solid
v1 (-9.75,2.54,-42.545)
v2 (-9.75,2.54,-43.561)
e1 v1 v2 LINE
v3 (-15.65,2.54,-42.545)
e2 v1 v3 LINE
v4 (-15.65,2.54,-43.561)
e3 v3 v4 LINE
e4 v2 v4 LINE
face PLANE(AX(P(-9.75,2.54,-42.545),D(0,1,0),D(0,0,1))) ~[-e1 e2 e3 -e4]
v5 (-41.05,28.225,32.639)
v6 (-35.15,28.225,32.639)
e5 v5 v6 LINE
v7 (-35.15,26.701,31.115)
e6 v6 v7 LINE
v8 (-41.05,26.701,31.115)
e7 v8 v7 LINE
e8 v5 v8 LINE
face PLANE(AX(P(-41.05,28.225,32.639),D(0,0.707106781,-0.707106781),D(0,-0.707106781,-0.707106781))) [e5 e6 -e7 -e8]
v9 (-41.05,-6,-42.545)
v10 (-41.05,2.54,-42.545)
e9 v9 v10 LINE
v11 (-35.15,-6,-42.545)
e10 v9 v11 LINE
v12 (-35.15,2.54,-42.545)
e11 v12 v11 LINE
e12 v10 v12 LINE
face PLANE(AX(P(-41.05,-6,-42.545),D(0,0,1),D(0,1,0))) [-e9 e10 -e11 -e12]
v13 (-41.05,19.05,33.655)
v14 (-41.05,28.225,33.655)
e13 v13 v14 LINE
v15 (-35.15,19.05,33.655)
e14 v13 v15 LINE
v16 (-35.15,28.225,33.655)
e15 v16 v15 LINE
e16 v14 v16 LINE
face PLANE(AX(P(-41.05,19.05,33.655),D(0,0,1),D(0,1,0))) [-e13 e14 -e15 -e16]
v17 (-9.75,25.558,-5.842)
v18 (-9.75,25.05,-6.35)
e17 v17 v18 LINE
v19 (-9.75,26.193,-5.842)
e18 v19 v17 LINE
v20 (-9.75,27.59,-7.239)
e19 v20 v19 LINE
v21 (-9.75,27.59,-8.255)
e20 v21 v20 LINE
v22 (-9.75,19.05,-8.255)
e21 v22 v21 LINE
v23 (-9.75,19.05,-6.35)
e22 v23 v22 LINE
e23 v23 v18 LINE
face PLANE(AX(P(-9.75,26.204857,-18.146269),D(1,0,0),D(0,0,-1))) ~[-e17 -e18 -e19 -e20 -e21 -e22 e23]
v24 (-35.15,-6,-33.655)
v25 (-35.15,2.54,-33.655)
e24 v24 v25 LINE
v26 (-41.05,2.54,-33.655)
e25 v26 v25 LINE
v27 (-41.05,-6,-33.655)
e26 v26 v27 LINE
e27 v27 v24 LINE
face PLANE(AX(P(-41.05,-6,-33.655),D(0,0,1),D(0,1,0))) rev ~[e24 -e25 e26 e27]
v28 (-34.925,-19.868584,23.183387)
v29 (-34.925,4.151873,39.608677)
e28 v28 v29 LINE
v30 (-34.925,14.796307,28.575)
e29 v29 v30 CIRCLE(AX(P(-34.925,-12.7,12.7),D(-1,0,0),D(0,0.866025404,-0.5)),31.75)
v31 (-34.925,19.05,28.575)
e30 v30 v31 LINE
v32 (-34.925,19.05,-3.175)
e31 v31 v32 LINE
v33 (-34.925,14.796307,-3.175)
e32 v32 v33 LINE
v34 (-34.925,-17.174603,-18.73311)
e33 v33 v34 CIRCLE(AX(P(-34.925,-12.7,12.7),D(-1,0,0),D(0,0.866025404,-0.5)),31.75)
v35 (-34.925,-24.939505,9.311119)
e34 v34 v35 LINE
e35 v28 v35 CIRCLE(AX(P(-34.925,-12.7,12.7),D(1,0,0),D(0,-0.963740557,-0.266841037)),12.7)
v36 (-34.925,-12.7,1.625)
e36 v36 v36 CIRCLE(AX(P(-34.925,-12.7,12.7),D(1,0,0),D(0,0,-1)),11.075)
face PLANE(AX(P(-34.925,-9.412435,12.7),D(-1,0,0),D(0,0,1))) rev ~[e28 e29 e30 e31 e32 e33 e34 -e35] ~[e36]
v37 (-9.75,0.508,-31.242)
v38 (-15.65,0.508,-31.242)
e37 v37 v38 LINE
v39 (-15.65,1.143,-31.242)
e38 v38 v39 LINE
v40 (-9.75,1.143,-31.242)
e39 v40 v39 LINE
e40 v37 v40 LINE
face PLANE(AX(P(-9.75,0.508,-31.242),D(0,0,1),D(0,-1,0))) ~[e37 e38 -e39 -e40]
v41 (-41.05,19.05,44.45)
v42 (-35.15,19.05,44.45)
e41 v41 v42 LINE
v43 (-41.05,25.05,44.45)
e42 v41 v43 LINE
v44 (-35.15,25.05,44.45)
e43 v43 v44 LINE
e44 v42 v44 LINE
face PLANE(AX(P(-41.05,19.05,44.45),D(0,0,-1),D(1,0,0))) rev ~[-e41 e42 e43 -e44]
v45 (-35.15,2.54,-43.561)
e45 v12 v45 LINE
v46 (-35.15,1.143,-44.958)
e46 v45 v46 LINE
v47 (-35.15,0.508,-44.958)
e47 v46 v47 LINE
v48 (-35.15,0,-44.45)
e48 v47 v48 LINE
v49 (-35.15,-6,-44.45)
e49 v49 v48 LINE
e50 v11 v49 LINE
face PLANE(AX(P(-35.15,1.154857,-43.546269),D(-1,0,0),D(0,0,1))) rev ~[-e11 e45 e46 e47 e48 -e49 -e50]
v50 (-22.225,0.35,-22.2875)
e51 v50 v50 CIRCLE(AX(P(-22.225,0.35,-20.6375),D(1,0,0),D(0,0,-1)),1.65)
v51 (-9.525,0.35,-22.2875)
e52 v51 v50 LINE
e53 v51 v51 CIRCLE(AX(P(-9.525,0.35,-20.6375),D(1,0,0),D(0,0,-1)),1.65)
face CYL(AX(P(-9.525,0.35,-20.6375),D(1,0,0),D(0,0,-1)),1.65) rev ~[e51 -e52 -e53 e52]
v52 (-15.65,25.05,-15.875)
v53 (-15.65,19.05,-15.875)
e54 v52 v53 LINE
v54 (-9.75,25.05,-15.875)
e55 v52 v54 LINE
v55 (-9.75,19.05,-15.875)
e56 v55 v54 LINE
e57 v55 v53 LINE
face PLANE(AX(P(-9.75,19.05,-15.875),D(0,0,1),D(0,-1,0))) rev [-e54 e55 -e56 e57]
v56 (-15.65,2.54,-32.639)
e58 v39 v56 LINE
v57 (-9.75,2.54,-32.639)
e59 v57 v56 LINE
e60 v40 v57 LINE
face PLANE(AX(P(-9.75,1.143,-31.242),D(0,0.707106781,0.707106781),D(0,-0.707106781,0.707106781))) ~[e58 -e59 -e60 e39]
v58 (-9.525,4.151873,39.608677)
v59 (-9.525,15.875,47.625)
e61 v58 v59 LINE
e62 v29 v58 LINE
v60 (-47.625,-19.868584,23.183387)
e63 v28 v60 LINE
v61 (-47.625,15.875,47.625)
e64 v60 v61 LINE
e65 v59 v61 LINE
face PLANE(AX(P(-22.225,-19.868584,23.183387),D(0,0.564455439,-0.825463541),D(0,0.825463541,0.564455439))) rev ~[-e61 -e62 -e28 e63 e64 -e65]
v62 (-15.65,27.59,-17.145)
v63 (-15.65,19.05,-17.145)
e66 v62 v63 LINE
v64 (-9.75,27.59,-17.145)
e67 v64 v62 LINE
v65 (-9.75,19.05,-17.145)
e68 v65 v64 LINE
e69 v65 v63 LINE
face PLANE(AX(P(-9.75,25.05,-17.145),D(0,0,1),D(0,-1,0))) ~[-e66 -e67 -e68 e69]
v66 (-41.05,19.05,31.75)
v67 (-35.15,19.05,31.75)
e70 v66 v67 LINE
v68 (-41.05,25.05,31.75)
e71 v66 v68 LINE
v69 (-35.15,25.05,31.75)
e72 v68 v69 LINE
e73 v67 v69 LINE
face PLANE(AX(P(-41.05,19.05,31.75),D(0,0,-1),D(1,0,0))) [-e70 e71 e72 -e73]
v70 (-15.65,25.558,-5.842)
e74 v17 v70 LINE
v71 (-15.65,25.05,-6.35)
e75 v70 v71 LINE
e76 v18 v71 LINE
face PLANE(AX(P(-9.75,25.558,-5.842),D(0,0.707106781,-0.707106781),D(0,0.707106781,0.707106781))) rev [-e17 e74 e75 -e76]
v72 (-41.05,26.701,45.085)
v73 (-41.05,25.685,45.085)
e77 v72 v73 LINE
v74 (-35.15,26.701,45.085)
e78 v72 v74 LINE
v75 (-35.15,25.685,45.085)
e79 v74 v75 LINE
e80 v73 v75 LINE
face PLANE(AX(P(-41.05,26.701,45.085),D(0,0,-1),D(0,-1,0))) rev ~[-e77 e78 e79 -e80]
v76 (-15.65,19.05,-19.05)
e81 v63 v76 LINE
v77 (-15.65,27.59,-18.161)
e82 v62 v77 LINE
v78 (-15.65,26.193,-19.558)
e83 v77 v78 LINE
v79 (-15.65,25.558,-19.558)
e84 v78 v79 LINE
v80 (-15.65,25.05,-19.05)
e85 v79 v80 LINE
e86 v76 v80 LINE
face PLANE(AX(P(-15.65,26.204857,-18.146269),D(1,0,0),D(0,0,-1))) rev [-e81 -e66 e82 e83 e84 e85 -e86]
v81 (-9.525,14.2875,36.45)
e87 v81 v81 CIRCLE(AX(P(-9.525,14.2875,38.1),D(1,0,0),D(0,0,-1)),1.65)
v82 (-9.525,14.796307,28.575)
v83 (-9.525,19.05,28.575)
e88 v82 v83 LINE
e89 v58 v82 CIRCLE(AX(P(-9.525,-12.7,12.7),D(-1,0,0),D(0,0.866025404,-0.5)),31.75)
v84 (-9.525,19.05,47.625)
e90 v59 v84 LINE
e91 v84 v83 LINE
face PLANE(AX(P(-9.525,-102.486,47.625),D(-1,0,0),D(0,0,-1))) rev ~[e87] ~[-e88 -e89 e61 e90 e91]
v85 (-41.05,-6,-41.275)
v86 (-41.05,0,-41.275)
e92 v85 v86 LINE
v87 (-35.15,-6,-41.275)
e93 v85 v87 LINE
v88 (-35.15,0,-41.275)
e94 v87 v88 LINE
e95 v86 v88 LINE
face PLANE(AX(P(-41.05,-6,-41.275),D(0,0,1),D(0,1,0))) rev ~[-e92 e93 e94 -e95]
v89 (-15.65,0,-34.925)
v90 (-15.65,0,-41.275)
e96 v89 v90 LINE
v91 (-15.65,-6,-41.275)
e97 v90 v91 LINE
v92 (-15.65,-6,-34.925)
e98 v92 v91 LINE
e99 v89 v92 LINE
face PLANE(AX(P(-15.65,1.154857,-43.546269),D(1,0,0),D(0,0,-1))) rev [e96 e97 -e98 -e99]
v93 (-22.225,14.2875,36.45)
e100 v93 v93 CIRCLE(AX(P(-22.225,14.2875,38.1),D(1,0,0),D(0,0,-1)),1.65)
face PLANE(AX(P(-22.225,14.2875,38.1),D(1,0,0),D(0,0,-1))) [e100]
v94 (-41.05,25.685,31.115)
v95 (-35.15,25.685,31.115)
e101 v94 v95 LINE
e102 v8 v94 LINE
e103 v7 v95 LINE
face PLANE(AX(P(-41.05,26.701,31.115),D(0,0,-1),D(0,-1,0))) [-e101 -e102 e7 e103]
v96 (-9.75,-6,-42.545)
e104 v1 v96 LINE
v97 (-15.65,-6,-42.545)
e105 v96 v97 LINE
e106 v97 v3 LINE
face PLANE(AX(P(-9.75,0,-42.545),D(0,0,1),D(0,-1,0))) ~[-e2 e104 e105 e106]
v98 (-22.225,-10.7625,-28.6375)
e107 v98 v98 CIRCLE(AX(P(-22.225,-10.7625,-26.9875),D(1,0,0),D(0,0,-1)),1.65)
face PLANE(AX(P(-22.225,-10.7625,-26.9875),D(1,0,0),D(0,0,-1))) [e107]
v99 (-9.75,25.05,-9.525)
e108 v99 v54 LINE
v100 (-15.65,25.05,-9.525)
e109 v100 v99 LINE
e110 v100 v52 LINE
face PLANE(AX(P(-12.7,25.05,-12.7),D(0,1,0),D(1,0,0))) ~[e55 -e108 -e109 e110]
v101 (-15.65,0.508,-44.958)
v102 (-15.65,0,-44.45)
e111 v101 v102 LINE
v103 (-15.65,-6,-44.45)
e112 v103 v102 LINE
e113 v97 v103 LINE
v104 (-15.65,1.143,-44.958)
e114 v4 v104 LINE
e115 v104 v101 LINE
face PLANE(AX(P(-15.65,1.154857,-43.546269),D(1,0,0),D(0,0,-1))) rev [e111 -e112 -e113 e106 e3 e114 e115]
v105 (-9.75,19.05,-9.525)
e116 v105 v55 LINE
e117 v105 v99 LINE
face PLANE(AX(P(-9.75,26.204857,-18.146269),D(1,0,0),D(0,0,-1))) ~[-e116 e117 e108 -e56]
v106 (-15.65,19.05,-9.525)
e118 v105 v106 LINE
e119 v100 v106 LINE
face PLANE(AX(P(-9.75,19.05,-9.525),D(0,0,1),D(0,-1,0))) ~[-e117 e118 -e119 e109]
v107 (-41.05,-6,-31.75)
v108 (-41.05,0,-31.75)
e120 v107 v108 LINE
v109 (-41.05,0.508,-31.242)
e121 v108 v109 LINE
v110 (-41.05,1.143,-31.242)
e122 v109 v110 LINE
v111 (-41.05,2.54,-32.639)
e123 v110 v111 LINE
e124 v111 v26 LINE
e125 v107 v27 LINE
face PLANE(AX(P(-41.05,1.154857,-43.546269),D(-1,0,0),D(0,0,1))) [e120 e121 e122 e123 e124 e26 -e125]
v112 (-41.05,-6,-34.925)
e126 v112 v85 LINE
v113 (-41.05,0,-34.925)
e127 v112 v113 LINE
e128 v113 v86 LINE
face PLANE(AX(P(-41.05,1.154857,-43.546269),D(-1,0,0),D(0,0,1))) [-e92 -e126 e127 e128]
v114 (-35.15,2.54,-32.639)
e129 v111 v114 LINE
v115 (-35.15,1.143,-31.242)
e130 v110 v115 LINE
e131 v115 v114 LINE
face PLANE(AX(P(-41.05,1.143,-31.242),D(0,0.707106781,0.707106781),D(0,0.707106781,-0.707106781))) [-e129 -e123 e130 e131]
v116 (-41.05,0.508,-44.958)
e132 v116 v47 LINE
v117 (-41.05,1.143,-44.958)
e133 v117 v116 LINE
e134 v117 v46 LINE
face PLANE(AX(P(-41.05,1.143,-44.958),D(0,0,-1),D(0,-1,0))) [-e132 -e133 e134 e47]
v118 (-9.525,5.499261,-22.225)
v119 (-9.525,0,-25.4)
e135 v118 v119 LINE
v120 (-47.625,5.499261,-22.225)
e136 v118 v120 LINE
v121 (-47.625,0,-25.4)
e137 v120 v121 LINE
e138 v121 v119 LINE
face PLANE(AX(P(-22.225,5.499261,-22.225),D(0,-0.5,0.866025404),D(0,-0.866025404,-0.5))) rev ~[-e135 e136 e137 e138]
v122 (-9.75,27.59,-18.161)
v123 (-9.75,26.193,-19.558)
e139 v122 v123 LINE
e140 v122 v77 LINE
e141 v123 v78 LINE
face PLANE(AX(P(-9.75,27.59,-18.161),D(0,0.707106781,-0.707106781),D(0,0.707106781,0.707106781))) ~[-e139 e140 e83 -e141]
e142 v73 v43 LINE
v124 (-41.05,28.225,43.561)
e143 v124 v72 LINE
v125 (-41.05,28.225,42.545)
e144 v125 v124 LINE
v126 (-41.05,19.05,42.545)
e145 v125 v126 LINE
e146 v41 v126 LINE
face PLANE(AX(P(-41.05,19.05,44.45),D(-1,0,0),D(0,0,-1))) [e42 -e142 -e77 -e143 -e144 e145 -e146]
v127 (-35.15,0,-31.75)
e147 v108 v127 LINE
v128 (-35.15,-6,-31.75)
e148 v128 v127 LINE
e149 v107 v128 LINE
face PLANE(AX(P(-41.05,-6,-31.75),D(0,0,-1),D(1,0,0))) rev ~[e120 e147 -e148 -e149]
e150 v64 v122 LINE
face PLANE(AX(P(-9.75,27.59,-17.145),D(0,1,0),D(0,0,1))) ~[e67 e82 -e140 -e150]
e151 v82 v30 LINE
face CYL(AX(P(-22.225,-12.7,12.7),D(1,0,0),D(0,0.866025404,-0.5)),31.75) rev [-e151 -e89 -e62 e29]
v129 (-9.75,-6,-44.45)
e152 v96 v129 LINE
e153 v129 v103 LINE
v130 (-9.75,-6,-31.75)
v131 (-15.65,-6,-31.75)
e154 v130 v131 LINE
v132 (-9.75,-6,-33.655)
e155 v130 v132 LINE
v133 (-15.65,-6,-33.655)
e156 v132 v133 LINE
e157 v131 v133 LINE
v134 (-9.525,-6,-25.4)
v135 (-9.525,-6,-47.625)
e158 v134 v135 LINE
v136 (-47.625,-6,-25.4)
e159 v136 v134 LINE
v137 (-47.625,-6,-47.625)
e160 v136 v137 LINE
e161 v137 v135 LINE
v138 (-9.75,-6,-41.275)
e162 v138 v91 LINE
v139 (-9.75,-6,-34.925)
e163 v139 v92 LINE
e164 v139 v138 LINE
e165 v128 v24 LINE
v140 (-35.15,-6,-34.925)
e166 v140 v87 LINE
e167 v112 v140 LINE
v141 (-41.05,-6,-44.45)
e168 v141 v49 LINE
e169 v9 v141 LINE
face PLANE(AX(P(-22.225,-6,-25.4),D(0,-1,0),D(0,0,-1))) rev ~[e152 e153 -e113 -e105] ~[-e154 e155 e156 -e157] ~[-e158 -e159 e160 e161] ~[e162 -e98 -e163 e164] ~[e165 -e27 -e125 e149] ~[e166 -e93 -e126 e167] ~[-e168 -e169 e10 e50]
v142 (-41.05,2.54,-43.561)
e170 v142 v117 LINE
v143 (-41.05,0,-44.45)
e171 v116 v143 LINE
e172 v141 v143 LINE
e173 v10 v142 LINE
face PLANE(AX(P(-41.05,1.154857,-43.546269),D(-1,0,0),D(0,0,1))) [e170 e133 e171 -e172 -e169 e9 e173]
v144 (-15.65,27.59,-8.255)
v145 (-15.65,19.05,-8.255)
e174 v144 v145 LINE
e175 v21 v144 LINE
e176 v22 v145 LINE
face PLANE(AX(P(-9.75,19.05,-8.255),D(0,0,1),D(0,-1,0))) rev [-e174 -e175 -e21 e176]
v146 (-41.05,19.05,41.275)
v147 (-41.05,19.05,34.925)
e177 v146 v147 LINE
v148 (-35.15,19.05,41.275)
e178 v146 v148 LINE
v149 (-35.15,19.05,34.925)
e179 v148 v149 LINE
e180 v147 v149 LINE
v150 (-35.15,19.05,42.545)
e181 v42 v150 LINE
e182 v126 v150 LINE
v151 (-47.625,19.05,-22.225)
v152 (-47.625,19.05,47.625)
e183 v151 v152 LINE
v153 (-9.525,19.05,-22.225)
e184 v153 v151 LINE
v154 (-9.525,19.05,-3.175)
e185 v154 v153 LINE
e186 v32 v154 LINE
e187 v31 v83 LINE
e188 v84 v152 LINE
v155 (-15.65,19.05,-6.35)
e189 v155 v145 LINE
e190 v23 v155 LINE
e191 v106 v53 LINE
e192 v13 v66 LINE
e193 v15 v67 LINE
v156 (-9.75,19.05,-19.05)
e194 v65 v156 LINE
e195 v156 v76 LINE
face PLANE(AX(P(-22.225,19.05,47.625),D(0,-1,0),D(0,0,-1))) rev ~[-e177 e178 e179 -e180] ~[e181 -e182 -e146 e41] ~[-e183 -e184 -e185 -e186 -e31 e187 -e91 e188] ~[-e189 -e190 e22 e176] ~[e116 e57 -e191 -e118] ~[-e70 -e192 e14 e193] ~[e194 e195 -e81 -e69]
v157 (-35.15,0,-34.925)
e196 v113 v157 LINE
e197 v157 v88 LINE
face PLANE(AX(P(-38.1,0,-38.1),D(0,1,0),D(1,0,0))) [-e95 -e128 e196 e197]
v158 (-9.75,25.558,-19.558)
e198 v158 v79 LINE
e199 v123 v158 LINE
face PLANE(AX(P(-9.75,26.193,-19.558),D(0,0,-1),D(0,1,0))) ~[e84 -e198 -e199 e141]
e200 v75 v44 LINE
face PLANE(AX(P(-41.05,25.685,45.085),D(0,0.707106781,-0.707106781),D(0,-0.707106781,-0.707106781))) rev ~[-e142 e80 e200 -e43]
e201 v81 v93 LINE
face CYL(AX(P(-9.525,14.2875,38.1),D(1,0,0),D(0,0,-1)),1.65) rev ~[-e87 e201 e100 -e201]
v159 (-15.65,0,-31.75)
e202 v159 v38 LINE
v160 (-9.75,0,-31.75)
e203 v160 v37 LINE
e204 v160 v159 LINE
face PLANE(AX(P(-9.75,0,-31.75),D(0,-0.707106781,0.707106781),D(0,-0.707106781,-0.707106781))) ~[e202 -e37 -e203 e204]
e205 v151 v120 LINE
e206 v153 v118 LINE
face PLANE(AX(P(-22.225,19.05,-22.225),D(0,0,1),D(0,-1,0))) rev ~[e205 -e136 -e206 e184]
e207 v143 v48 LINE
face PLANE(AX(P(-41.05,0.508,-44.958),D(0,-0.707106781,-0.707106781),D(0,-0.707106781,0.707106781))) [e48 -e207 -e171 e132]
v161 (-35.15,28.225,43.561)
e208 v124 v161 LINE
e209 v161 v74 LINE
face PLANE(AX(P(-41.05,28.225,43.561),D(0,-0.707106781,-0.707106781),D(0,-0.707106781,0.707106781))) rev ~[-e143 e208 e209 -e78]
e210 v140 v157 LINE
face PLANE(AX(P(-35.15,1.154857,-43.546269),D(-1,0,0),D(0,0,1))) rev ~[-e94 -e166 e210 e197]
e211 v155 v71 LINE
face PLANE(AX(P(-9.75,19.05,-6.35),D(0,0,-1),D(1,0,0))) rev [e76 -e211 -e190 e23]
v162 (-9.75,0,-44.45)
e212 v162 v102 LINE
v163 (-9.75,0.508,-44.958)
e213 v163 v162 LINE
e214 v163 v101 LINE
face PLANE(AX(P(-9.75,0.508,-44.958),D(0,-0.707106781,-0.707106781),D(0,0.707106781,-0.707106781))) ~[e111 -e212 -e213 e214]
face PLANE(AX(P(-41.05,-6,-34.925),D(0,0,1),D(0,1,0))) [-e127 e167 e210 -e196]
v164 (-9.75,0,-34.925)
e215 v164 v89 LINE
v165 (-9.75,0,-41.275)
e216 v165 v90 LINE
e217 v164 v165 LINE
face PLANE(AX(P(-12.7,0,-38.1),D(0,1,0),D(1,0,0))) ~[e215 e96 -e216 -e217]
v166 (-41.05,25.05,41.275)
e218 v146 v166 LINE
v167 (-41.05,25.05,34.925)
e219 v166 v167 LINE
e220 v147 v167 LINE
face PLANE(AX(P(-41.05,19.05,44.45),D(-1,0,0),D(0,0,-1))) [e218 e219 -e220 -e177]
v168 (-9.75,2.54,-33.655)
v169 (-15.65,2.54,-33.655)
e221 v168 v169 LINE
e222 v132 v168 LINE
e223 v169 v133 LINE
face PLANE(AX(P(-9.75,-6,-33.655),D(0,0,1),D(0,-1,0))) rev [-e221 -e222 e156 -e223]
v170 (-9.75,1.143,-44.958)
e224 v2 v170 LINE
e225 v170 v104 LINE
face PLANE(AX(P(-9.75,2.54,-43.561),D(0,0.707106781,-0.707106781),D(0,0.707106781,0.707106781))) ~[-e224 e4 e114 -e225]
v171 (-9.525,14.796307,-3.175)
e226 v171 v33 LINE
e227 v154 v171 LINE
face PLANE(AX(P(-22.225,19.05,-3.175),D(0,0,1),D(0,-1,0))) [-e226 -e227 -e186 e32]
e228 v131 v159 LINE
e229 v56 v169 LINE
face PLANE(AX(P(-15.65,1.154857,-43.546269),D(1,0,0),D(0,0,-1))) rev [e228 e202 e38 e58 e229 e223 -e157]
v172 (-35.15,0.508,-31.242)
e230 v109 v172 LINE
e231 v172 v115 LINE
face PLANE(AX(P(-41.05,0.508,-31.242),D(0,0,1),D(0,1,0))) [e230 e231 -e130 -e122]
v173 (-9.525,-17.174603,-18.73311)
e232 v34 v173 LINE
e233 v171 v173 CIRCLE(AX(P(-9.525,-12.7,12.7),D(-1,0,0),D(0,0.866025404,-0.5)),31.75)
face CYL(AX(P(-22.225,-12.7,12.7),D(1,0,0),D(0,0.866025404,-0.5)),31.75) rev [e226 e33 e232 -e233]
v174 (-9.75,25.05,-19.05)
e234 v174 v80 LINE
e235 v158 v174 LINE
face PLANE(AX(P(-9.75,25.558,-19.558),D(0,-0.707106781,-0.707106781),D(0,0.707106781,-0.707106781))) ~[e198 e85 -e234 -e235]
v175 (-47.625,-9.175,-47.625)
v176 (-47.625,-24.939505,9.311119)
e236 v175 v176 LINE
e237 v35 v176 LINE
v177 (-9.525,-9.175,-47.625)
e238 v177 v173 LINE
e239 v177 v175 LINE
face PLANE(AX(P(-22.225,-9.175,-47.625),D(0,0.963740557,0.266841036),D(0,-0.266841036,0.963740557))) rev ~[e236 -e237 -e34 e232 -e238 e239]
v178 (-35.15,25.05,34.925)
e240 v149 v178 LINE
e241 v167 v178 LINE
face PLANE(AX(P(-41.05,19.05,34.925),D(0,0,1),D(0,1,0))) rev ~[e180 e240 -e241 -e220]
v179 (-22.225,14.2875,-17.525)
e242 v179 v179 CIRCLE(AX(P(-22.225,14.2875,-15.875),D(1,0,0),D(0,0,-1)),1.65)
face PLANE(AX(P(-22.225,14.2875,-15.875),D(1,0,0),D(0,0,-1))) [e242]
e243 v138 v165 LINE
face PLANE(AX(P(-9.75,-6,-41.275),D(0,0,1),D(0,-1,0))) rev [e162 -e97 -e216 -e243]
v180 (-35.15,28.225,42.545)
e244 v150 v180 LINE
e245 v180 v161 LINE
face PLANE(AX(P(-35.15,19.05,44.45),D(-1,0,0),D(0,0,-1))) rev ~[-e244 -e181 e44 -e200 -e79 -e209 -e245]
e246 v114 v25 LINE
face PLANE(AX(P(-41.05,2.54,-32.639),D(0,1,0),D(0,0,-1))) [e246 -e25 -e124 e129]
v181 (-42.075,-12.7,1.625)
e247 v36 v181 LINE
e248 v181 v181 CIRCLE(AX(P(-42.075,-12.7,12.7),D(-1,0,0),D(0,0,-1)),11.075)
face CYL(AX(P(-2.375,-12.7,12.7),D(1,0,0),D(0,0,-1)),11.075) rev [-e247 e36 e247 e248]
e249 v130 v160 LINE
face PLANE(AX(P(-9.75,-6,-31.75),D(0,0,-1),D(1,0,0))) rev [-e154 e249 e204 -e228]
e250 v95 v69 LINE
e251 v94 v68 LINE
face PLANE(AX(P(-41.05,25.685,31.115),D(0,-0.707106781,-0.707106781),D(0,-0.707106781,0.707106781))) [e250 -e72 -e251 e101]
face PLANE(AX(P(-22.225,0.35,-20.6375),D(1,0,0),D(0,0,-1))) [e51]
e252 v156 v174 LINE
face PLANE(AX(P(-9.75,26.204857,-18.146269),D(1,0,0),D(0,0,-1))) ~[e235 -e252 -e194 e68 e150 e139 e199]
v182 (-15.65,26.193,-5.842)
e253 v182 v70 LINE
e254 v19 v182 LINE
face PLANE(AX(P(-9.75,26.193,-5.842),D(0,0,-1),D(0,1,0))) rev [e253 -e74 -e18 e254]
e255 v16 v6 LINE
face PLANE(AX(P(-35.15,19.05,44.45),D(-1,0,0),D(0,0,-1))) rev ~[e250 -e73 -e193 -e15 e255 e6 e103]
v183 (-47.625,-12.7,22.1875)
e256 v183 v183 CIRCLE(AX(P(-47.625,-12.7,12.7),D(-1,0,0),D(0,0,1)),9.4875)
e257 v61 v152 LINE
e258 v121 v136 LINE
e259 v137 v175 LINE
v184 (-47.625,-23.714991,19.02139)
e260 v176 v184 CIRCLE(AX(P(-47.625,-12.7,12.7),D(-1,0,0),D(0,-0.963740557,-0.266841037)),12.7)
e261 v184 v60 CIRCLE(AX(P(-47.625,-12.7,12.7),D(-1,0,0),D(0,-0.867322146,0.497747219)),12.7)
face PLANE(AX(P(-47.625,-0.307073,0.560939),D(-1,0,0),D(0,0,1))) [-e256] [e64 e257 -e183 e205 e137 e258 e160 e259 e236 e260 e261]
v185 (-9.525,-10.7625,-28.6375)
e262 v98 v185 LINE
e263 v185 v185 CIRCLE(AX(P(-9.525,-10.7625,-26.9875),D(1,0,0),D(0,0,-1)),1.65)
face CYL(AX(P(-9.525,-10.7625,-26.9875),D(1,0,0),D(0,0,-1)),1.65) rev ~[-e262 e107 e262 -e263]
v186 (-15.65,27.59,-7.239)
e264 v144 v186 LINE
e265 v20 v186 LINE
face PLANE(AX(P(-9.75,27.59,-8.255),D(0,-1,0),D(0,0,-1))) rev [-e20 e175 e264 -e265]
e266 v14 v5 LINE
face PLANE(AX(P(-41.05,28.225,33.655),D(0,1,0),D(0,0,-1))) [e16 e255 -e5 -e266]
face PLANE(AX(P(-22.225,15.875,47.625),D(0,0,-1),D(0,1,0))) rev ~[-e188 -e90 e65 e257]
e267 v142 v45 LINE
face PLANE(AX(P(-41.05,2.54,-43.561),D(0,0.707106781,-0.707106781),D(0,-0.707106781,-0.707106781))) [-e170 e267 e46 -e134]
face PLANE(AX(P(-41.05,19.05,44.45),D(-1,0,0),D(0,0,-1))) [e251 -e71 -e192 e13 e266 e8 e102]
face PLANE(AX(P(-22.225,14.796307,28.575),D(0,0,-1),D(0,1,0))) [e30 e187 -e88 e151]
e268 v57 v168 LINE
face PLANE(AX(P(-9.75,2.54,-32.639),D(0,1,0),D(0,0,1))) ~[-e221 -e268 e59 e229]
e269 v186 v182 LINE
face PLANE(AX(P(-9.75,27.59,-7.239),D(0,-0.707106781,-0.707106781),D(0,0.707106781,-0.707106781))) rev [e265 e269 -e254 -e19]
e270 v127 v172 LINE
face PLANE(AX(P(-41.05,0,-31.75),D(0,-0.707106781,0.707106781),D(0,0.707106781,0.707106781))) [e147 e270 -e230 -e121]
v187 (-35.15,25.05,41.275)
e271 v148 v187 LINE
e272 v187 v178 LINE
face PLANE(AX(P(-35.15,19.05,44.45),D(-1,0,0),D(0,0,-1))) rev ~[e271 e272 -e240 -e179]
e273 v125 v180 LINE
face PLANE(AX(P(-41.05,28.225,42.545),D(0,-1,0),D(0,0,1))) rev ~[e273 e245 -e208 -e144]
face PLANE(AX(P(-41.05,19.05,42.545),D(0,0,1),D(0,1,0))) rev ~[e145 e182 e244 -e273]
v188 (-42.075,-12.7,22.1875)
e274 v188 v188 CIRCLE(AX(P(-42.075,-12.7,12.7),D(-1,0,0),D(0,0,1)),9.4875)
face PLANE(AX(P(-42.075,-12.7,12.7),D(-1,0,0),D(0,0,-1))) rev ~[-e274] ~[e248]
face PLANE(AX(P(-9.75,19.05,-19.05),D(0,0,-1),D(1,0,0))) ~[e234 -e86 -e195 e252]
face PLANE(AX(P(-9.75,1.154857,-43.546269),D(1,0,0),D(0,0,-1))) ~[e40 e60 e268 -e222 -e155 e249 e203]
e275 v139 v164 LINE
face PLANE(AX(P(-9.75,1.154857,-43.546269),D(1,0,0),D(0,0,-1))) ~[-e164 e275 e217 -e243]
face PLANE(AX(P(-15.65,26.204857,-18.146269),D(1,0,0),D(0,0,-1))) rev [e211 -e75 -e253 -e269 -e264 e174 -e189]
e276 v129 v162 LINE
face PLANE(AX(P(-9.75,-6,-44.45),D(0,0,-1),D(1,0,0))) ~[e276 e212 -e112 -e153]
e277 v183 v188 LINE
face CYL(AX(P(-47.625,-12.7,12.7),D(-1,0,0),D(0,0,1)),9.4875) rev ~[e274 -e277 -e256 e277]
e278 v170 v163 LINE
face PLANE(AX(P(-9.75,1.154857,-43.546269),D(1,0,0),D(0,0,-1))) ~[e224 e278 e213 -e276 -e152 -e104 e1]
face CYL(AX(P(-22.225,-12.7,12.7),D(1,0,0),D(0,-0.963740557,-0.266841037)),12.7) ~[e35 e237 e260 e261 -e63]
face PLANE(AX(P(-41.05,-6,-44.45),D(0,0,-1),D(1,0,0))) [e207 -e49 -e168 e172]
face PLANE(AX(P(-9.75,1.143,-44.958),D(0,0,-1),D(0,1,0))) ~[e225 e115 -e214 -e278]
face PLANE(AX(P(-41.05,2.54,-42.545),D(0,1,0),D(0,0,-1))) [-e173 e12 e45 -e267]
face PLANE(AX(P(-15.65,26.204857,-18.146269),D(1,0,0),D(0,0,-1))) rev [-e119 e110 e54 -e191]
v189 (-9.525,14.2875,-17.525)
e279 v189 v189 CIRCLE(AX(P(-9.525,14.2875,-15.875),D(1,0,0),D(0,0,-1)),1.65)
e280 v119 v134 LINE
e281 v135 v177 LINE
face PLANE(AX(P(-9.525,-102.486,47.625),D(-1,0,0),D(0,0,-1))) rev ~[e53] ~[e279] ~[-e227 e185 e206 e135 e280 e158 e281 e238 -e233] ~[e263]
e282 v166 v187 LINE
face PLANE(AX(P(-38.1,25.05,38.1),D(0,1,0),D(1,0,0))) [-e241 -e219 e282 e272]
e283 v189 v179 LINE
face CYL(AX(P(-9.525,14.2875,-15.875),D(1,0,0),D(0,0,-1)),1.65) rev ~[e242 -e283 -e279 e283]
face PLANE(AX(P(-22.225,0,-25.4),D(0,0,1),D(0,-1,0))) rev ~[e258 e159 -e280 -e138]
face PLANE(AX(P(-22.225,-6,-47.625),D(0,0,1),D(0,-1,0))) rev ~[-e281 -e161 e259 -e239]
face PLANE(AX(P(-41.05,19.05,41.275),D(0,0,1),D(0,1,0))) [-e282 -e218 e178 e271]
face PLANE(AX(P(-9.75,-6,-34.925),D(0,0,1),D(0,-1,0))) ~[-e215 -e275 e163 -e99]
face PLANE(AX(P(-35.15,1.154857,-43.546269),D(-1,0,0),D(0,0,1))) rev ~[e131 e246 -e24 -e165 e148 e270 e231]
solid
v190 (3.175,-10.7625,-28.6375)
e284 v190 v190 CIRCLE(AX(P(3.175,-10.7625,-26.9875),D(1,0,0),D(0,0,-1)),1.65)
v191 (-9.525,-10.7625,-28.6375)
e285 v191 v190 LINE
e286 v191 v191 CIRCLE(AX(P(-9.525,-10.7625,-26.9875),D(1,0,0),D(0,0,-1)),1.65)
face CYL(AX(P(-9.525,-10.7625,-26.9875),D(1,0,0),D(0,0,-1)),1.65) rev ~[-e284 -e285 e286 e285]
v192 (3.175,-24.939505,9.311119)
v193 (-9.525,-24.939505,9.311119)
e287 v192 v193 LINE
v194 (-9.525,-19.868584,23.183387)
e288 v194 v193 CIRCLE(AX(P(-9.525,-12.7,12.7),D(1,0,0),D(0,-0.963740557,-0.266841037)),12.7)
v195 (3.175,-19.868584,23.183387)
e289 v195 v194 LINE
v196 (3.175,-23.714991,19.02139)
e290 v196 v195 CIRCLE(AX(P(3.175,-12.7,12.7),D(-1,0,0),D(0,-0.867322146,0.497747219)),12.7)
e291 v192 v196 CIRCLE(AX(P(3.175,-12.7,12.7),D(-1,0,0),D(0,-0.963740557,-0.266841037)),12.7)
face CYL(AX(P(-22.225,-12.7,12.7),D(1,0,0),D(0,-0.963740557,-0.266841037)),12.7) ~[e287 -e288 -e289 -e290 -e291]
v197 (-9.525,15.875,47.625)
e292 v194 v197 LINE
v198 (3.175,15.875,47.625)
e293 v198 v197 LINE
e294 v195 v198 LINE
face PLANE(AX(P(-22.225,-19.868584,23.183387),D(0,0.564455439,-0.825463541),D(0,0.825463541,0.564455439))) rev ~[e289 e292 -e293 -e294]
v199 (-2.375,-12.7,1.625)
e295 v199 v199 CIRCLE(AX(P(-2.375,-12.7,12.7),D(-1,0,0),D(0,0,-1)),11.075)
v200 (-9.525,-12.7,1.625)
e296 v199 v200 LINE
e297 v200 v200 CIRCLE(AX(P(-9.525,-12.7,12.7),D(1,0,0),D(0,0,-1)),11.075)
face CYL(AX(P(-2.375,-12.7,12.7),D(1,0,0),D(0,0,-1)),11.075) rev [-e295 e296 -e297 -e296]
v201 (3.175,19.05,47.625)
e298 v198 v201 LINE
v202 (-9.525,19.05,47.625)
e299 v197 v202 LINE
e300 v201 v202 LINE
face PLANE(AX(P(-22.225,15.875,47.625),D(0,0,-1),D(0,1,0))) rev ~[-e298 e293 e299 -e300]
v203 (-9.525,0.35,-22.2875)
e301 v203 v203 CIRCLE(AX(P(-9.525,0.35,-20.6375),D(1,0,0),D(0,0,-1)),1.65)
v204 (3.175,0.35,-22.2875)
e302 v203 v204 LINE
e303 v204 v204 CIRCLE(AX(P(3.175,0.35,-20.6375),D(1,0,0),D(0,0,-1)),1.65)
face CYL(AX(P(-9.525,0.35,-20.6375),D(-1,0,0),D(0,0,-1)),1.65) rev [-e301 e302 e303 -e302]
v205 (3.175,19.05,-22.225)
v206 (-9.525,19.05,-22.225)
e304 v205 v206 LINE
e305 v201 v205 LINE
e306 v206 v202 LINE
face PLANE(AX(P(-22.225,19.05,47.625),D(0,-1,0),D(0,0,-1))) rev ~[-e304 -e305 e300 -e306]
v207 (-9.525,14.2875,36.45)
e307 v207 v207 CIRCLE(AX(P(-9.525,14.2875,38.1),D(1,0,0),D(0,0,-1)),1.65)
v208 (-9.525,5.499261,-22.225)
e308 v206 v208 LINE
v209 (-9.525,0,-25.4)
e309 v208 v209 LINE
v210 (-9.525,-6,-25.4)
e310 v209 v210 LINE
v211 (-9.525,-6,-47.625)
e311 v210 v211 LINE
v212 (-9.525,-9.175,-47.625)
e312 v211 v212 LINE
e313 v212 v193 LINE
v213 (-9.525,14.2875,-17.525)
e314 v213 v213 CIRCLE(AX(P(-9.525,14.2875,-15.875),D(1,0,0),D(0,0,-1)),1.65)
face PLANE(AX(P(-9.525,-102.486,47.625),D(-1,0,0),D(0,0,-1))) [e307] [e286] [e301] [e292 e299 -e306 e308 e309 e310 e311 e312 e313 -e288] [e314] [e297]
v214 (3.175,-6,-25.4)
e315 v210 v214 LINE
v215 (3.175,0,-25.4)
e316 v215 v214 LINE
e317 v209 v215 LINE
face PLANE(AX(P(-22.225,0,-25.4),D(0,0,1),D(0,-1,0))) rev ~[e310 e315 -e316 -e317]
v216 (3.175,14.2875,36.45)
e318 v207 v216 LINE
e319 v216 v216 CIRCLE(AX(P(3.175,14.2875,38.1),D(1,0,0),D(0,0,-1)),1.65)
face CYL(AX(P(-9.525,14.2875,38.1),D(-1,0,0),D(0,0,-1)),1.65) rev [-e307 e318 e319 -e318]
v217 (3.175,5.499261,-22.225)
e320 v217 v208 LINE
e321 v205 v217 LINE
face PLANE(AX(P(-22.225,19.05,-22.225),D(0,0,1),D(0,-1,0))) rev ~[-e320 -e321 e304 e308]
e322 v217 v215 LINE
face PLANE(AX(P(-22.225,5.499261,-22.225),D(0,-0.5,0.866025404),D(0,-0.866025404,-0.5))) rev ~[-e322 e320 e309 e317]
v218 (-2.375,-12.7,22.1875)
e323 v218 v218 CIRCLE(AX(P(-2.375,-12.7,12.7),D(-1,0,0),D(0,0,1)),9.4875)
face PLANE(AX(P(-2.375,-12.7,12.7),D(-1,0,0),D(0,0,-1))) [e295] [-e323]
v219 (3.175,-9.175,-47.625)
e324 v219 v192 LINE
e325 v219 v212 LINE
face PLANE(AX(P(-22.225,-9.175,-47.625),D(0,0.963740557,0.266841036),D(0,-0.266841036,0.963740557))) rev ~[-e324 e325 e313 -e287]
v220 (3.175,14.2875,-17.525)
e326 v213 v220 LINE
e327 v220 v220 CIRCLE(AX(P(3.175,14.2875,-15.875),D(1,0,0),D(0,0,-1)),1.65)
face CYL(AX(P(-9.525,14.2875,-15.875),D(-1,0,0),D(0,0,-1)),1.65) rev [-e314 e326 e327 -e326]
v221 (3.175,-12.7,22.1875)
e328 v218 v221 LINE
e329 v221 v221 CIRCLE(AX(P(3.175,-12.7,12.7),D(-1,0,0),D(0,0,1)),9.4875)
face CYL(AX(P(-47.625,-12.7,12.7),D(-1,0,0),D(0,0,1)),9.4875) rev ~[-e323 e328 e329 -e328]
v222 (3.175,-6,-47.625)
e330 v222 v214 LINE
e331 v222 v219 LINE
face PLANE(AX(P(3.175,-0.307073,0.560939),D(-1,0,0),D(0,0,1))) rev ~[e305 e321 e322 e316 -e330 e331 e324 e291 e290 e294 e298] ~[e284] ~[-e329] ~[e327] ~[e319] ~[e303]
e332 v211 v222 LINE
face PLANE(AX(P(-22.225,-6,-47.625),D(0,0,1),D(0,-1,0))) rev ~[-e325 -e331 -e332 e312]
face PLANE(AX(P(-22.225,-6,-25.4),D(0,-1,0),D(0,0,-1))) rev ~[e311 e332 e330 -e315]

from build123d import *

# Parameters (mm, degrees)
BOSS_EXTRUDE4_DEPTH     = 25.4
CUT_EXTRUDE4_DEPTH      = 12.7
CUT_EXTRUDE5_DEPTH      = 32.55
CUT_EXTRUDE5_DEPTH_BACK = 7.15
SKETCH12_R              = 11.074999948
SKETCH13_R              = 9.487499948
CUT_EXTRUDE6_DEPTH      = 75.121121315
SKETCH22_W              = 5.899999884
SKETCH22_H              = 12.7
BOSS_EXTRUDE9_DEPTH     = 6
SKETCH23_W              = 5.899999884
SKETCH23_H              = 12.7
BOSS_EXTRUDE10_DEPTH    = 5.999999938
BOSS_EXTRUDE11_DEPTH    = 5.899999884
BOSS_EXTRUDE12_DEPTH    = 5.899999884
SKETCH26_W              = 1.27
SKETCH26_H              = 5.999999938
CUT_EXTRUDE10_DEPTH     = 71.856487821
SKETCH29_W              = 1.27
SKETCH29_H              = 6.35
SKETCH29_H_2            = 5.999999938
CUT_EXTRUDE11_DEPTH     = 71.856487821
SKETCH30_W              = 8.365060076
SKETCH30_H              = 18.797575461
SKETCH30_W_2            = 9.861886537
SKETCH30_H_2            = 15.225368687
CUT_EXTRUDE12_DEPTH     = 81.697482922
SPLIT1_SURFACE_1_BACK   = 121.536
SPLIT1_SURFACE_1_DEPTH  = 243.072
SPLIT1_SURFACE_2_BACK   = 121.536
SPLIT1_SURFACE_2_DEPTH  = 243.072
SKETCH33_R              = 1.650000002
CUT_EXTRUDE13_DEPTH     = 12.7


with BuildPart() as part:
    # Sketch10 → Boss-Extrude4 (new, symmetric)
    with BuildSketch(Plane(origin=(-22.225, 0, 0), x_dir=(0, 0, -1), z_dir=(1, 0, 0))):
        with BuildLine():
            Line((47.625, -5.999999938), (47.625, -9.174999938))
            Line((47.625, -9.174999938), (-9.311118837, -24.939505074))
            ThreePointArc((-9.311118837, -24.939505074), (-14.288949363, -25.300207932), (-19.021389685, -23.71499126))
            ThreePointArc((-19.021389685, -23.71499126), (-21.319677585, -22.026905078), (-23.18338697, -19.868584075))
            Line((-23.18338697, -19.868584075), (-47.625, 15.875))
            Line((-47.625, 15.875), (-47.625, 19.05))
            Line((-47.625, 19.05), (22.225, 19.05))
            Line((22.225, 19.05), (22.225, 5.499261314))
            Line((22.225, 5.499261314), (25.4, 0))
            Line((25.4, 0), (25.4, -5.999999938))
            Line((25.4, -5.999999938), (47.625, -5.999999938))
        make_face()
    extrude(amount=BOSS_EXTRUDE4_DEPTH, both=True)

    # Sketch11 → Cut-Extrude4 (cut, symmetric)
    with BuildSketch(Plane(origin=(-22.225, 0, 0), x_dir=(0, 0, -1), z_dir=(1, 0, 0))):
        with BuildLine():
            Line((3.175, 19.05), (3.175, 14.79630657))
            ThreePointArc((3.175, 14.79630657), (-12.7, -44.45), (-28.575, 14.79630657))
            Line((-28.575, 14.79630657), (-28.575, 19.05))
            Line((-28.575, 19.05), (3.175, 19.05))
        make_face()
    extrude(amount=CUT_EXTRUDE4_DEPTH, both=True, mode=Mode.SUBTRACT)

    # Sketch12 → Cut-Extrude5 (cut, two sides: drawn at the far end of the back side and taken through both)
    with BuildSketch(Plane.ZY.offset(9.525).offset(-CUT_EXTRUDE5_DEPTH_BACK)):
        with Locations(Location((12.7, -12.7, 0), (0, 0, 180))):
            Circle(SKETCH12_R)
    extrude(amount=CUT_EXTRUDE5_DEPTH + CUT_EXTRUDE5_DEPTH_BACK, mode=Mode.SUBTRACT)

    # Sketch13 → Cut-Extrude6 (cut, through all)
    with BuildSketch(Plane.ZY.offset(47.625)):
        with Locations((12.7, -12.7)):
            Circle(SKETCH13_R)
    extrude(amount=-CUT_EXTRUDE6_DEPTH, mode=Mode.SUBTRACT)

    # Sketch22 → Boss-Extrude9 (add)
    with BuildSketch(Plane(origin=(0, -5.999999938, 0), x_dir=(1, 0, 0), z_dir=(0, 1, 0))):
        with Locations((-38.1, 38.1)):
            Rectangle(SKETCH22_W, SKETCH22_H)
    boss_extrude9 = extrude(amount=BOSS_EXTRUDE9_DEPTH)

    # Sketch23 → Boss-Extrude10 (add)
    with BuildSketch(Plane(origin=(0, 19.05, 0), x_dir=(1, 0, 0), z_dir=(0, 1, 0))):
        with Locations((-38.1, -38.1)):
            Rectangle(SKETCH23_W, SKETCH23_H)
        with Locations((-38.1, 12.7)):
            Rectangle(SKETCH23_W, SKETCH23_H)
    boss_extrude10 = extrude(amount=BOSS_EXTRUDE10_DEPTH)

    # Sketch25 → Boss-Extrude11 (add)
    with BuildSketch(Plane.ZY.offset(41.049999942)):
        Polygon((-44.958, 0.508), (-44.45, 0), (-42.545, 0), (-42.545, 2.54), (-43.561, 2.54), (-44.958, 1.143), align=None)
        Polygon((-33.655, 2.54), (-33.655, 0), (-31.75, 0), (-31.242, 0.508), (-31.242, 1.143), (-32.639, 2.54), align=None)
    boss_extrude11 = extrude(amount=-BOSS_EXTRUDE11_DEPTH)

    # Sketch27 → Boss-Extrude12 (add)
    with BuildSketch(Plane.ZY.offset(41.049999942)):
        Polygon((-19.05, 25.049999938), (-17.145, 25.049999938), (-17.145, 27.589999938), (-18.161, 27.589999938), (-19.558, 26.192999938), (-19.558, 25.557999938), align=None)
        Polygon((-6.35, 25.049999938), (-8.255, 25.049999938), (-8.255, 27.589999938), (-7.239, 27.589999938), (-5.842, 26.192999938), (-5.842, 25.557999938), align=None)
        Polygon((31.75, 25.049999938), (33.655, 25.049999938), (33.655, 28.224999938), (32.639, 28.224999938), (31.115, 26.700999938), (31.115, 25.684999938), align=None)
        Polygon((44.45, 25.049999938), (42.545, 25.049999938), (42.545, 28.224999938), (43.561, 28.224999938), (45.085, 26.700999938), (45.085, 25.684999938), align=None)
    boss_extrude12 = extrude(amount=-BOSS_EXTRUDE12_DEPTH)

    # Sketch26 → Cut-Extrude10 (cut, through all)
    with BuildSketch(Plane.ZY.offset(41.049999942)):
        with Locations((-41.91, -2.999999969)):
            Rectangle(SKETCH26_W, SKETCH26_H)
        with Locations((-34.29, -2.999999969)):
            Rectangle(SKETCH26_W, SKETCH26_H)
    cut_extrude10 = extrude(amount=-CUT_EXTRUDE10_DEPTH, mode=Mode.SUBTRACT)

    # Sketch29 → Cut-Extrude11 (cut, through all)
    with BuildSketch(Plane.ZY.offset(41.049999942)):
        with Locations((-16.51, 22.225)):
            Rectangle(SKETCH29_W, SKETCH29_H)
        with Locations((-8.89, 22.225)):
            Rectangle(SKETCH29_W, SKETCH29_H)
        with Locations((34.29, 22.049999969)):
            Rectangle(SKETCH29_W, SKETCH29_H_2)
        with Locations((41.91, 22.049999969)):
            Rectangle(SKETCH29_W, SKETCH29_H_2)
    cut_extrude11 = extrude(amount=-CUT_EXTRUDE11_DEPTH, mode=Mode.SUBTRACT)

    # Mirror1: Boss-Extrude9, Boss-Extrude10, Boss-Extrude11, Boss-Extrude12, Cut-Extrude10, Cut-Extrude11 across plane
    add(boss_extrude9.mirror(Plane(origin=(-25.4, 0, 0), x_dir=(0, 0, 1), z_dir=(1, 0, 0))))
    add(boss_extrude10.mirror(Plane(origin=(-25.4, 0, 0), x_dir=(0, 0, 1), z_dir=(1, 0, 0))))
    add(boss_extrude11.mirror(Plane(origin=(-25.4, 0, 0), x_dir=(0, 0, 1), z_dir=(1, 0, 0))))
    add(boss_extrude12.mirror(Plane(origin=(-25.4, 0, 0), x_dir=(0, 0, 1), z_dir=(1, 0, 0))))
    add(cut_extrude10.mirror(Plane(origin=(-25.4, 0, 0), x_dir=(0, 0, 1), z_dir=(1, 0, 0))), mode=Mode.SUBTRACT)
    add(cut_extrude11.mirror(Plane(origin=(-25.4, 0, 0), x_dir=(0, 0, 1), z_dir=(1, 0, 0))), mode=Mode.SUBTRACT)

    # Sketch30 → Cut-Extrude12 (cut, through all)
    with BuildSketch(Plane(origin=(0, 19.05, 0), x_dir=(1, 0, 0), z_dir=(0, 1, 0))):
        with Locations((-12.803226035, -38.026550337)):
            Rectangle(SKETCH30_W, SKETCH30_H)
        with Locations((-37.969415348, 12.586881501)):
            Rectangle(SKETCH30_W_2, SKETCH30_H_2)
    extrude(amount=CUT_EXTRUDE12_DEPTH, mode=Mode.SUBTRACT)


with BuildPart() as body_2:
    # Split1: the piece behind the surface
    add(part.part)
    # Split1 surface: a surface, the sketch's curves swept straight by 243.072 mm
    with BuildLine(Plane(origin=(0, 19.05, 0), x_dir=(1, 0, 0), z_dir=(0, 1, 0)).offset(-SPLIT1_SURFACE_1_BACK), mode=Mode.PRIVATE) as split1_surface_1_path:
        Line((-9.525, -47.625), (-9.525, 48.920147687))
    split1_surface_1 = Shell.extrude(split1_surface_1_path.wire(), (0 * SPLIT1_SURFACE_1_DEPTH, 1 * SPLIT1_SURFACE_1_DEPTH, 0 * SPLIT1_SURFACE_1_DEPTH))
    split(bisect_by=split1_surface_1, keep=Keep.BOTTOM)


with BuildPart() as part_1:
    add(part.part)

    # Split1: split by a surface, the side it looks to stays
    # Split1 surface: a surface, the sketch's curves swept straight by 243.072 mm
    with BuildLine(Plane(origin=(0, 19.05, 0), x_dir=(1, 0, 0), z_dir=(0, 1, 0)).offset(-SPLIT1_SURFACE_2_BACK), mode=Mode.PRIVATE) as split1_surface_2_path:
        Line((-9.525, -47.625), (-9.525, 48.920147687))
    split1_surface_2 = Shell.extrude(split1_surface_2_path.wire(), (0 * SPLIT1_SURFACE_2_DEPTH, 1 * SPLIT1_SURFACE_2_DEPTH, 0 * SPLIT1_SURFACE_2_DEPTH))
    split(bisect_by=split1_surface_2, keep=Keep.TOP)


with BuildPart() as cut_extrude13_tool:
    # Sketch33 → Cut-Extrude13 (new, symmetric)
    with BuildSketch(Plane(origin=(-9.525, 0, 0), x_dir=(0, 0, -1), z_dir=(1, 0, 0))):
        with Locations((-38.1, 14.2875)):
            Circle(SKETCH33_R)
        with Locations((15.875, 14.2875)):
            Circle(SKETCH33_R)
        with Locations((20.6375, 0.350000062)):
            Circle(SKETCH33_R)
        with Locations((26.9875, -10.762499938)):
            Circle(SKETCH33_R)
    extrude(amount=CUT_EXTRUDE13_DEPTH, both=True)


with BuildPart() as part_2:
    add(part_1.part)

    # Cut-Extrude13: cut by cut_extrude13_tool
    add(cut_extrude13_tool.part, mode=Mode.SUBTRACT)


with BuildPart() as body_2_1:
    add(body_2.part)

    # Cut-Extrude13: cut by cut_extrude13_tool
    add(cut_extrude13_tool.part, mode=Mode.SUBTRACT)


solid = Compound([part_2.part, body_2_1.part])
